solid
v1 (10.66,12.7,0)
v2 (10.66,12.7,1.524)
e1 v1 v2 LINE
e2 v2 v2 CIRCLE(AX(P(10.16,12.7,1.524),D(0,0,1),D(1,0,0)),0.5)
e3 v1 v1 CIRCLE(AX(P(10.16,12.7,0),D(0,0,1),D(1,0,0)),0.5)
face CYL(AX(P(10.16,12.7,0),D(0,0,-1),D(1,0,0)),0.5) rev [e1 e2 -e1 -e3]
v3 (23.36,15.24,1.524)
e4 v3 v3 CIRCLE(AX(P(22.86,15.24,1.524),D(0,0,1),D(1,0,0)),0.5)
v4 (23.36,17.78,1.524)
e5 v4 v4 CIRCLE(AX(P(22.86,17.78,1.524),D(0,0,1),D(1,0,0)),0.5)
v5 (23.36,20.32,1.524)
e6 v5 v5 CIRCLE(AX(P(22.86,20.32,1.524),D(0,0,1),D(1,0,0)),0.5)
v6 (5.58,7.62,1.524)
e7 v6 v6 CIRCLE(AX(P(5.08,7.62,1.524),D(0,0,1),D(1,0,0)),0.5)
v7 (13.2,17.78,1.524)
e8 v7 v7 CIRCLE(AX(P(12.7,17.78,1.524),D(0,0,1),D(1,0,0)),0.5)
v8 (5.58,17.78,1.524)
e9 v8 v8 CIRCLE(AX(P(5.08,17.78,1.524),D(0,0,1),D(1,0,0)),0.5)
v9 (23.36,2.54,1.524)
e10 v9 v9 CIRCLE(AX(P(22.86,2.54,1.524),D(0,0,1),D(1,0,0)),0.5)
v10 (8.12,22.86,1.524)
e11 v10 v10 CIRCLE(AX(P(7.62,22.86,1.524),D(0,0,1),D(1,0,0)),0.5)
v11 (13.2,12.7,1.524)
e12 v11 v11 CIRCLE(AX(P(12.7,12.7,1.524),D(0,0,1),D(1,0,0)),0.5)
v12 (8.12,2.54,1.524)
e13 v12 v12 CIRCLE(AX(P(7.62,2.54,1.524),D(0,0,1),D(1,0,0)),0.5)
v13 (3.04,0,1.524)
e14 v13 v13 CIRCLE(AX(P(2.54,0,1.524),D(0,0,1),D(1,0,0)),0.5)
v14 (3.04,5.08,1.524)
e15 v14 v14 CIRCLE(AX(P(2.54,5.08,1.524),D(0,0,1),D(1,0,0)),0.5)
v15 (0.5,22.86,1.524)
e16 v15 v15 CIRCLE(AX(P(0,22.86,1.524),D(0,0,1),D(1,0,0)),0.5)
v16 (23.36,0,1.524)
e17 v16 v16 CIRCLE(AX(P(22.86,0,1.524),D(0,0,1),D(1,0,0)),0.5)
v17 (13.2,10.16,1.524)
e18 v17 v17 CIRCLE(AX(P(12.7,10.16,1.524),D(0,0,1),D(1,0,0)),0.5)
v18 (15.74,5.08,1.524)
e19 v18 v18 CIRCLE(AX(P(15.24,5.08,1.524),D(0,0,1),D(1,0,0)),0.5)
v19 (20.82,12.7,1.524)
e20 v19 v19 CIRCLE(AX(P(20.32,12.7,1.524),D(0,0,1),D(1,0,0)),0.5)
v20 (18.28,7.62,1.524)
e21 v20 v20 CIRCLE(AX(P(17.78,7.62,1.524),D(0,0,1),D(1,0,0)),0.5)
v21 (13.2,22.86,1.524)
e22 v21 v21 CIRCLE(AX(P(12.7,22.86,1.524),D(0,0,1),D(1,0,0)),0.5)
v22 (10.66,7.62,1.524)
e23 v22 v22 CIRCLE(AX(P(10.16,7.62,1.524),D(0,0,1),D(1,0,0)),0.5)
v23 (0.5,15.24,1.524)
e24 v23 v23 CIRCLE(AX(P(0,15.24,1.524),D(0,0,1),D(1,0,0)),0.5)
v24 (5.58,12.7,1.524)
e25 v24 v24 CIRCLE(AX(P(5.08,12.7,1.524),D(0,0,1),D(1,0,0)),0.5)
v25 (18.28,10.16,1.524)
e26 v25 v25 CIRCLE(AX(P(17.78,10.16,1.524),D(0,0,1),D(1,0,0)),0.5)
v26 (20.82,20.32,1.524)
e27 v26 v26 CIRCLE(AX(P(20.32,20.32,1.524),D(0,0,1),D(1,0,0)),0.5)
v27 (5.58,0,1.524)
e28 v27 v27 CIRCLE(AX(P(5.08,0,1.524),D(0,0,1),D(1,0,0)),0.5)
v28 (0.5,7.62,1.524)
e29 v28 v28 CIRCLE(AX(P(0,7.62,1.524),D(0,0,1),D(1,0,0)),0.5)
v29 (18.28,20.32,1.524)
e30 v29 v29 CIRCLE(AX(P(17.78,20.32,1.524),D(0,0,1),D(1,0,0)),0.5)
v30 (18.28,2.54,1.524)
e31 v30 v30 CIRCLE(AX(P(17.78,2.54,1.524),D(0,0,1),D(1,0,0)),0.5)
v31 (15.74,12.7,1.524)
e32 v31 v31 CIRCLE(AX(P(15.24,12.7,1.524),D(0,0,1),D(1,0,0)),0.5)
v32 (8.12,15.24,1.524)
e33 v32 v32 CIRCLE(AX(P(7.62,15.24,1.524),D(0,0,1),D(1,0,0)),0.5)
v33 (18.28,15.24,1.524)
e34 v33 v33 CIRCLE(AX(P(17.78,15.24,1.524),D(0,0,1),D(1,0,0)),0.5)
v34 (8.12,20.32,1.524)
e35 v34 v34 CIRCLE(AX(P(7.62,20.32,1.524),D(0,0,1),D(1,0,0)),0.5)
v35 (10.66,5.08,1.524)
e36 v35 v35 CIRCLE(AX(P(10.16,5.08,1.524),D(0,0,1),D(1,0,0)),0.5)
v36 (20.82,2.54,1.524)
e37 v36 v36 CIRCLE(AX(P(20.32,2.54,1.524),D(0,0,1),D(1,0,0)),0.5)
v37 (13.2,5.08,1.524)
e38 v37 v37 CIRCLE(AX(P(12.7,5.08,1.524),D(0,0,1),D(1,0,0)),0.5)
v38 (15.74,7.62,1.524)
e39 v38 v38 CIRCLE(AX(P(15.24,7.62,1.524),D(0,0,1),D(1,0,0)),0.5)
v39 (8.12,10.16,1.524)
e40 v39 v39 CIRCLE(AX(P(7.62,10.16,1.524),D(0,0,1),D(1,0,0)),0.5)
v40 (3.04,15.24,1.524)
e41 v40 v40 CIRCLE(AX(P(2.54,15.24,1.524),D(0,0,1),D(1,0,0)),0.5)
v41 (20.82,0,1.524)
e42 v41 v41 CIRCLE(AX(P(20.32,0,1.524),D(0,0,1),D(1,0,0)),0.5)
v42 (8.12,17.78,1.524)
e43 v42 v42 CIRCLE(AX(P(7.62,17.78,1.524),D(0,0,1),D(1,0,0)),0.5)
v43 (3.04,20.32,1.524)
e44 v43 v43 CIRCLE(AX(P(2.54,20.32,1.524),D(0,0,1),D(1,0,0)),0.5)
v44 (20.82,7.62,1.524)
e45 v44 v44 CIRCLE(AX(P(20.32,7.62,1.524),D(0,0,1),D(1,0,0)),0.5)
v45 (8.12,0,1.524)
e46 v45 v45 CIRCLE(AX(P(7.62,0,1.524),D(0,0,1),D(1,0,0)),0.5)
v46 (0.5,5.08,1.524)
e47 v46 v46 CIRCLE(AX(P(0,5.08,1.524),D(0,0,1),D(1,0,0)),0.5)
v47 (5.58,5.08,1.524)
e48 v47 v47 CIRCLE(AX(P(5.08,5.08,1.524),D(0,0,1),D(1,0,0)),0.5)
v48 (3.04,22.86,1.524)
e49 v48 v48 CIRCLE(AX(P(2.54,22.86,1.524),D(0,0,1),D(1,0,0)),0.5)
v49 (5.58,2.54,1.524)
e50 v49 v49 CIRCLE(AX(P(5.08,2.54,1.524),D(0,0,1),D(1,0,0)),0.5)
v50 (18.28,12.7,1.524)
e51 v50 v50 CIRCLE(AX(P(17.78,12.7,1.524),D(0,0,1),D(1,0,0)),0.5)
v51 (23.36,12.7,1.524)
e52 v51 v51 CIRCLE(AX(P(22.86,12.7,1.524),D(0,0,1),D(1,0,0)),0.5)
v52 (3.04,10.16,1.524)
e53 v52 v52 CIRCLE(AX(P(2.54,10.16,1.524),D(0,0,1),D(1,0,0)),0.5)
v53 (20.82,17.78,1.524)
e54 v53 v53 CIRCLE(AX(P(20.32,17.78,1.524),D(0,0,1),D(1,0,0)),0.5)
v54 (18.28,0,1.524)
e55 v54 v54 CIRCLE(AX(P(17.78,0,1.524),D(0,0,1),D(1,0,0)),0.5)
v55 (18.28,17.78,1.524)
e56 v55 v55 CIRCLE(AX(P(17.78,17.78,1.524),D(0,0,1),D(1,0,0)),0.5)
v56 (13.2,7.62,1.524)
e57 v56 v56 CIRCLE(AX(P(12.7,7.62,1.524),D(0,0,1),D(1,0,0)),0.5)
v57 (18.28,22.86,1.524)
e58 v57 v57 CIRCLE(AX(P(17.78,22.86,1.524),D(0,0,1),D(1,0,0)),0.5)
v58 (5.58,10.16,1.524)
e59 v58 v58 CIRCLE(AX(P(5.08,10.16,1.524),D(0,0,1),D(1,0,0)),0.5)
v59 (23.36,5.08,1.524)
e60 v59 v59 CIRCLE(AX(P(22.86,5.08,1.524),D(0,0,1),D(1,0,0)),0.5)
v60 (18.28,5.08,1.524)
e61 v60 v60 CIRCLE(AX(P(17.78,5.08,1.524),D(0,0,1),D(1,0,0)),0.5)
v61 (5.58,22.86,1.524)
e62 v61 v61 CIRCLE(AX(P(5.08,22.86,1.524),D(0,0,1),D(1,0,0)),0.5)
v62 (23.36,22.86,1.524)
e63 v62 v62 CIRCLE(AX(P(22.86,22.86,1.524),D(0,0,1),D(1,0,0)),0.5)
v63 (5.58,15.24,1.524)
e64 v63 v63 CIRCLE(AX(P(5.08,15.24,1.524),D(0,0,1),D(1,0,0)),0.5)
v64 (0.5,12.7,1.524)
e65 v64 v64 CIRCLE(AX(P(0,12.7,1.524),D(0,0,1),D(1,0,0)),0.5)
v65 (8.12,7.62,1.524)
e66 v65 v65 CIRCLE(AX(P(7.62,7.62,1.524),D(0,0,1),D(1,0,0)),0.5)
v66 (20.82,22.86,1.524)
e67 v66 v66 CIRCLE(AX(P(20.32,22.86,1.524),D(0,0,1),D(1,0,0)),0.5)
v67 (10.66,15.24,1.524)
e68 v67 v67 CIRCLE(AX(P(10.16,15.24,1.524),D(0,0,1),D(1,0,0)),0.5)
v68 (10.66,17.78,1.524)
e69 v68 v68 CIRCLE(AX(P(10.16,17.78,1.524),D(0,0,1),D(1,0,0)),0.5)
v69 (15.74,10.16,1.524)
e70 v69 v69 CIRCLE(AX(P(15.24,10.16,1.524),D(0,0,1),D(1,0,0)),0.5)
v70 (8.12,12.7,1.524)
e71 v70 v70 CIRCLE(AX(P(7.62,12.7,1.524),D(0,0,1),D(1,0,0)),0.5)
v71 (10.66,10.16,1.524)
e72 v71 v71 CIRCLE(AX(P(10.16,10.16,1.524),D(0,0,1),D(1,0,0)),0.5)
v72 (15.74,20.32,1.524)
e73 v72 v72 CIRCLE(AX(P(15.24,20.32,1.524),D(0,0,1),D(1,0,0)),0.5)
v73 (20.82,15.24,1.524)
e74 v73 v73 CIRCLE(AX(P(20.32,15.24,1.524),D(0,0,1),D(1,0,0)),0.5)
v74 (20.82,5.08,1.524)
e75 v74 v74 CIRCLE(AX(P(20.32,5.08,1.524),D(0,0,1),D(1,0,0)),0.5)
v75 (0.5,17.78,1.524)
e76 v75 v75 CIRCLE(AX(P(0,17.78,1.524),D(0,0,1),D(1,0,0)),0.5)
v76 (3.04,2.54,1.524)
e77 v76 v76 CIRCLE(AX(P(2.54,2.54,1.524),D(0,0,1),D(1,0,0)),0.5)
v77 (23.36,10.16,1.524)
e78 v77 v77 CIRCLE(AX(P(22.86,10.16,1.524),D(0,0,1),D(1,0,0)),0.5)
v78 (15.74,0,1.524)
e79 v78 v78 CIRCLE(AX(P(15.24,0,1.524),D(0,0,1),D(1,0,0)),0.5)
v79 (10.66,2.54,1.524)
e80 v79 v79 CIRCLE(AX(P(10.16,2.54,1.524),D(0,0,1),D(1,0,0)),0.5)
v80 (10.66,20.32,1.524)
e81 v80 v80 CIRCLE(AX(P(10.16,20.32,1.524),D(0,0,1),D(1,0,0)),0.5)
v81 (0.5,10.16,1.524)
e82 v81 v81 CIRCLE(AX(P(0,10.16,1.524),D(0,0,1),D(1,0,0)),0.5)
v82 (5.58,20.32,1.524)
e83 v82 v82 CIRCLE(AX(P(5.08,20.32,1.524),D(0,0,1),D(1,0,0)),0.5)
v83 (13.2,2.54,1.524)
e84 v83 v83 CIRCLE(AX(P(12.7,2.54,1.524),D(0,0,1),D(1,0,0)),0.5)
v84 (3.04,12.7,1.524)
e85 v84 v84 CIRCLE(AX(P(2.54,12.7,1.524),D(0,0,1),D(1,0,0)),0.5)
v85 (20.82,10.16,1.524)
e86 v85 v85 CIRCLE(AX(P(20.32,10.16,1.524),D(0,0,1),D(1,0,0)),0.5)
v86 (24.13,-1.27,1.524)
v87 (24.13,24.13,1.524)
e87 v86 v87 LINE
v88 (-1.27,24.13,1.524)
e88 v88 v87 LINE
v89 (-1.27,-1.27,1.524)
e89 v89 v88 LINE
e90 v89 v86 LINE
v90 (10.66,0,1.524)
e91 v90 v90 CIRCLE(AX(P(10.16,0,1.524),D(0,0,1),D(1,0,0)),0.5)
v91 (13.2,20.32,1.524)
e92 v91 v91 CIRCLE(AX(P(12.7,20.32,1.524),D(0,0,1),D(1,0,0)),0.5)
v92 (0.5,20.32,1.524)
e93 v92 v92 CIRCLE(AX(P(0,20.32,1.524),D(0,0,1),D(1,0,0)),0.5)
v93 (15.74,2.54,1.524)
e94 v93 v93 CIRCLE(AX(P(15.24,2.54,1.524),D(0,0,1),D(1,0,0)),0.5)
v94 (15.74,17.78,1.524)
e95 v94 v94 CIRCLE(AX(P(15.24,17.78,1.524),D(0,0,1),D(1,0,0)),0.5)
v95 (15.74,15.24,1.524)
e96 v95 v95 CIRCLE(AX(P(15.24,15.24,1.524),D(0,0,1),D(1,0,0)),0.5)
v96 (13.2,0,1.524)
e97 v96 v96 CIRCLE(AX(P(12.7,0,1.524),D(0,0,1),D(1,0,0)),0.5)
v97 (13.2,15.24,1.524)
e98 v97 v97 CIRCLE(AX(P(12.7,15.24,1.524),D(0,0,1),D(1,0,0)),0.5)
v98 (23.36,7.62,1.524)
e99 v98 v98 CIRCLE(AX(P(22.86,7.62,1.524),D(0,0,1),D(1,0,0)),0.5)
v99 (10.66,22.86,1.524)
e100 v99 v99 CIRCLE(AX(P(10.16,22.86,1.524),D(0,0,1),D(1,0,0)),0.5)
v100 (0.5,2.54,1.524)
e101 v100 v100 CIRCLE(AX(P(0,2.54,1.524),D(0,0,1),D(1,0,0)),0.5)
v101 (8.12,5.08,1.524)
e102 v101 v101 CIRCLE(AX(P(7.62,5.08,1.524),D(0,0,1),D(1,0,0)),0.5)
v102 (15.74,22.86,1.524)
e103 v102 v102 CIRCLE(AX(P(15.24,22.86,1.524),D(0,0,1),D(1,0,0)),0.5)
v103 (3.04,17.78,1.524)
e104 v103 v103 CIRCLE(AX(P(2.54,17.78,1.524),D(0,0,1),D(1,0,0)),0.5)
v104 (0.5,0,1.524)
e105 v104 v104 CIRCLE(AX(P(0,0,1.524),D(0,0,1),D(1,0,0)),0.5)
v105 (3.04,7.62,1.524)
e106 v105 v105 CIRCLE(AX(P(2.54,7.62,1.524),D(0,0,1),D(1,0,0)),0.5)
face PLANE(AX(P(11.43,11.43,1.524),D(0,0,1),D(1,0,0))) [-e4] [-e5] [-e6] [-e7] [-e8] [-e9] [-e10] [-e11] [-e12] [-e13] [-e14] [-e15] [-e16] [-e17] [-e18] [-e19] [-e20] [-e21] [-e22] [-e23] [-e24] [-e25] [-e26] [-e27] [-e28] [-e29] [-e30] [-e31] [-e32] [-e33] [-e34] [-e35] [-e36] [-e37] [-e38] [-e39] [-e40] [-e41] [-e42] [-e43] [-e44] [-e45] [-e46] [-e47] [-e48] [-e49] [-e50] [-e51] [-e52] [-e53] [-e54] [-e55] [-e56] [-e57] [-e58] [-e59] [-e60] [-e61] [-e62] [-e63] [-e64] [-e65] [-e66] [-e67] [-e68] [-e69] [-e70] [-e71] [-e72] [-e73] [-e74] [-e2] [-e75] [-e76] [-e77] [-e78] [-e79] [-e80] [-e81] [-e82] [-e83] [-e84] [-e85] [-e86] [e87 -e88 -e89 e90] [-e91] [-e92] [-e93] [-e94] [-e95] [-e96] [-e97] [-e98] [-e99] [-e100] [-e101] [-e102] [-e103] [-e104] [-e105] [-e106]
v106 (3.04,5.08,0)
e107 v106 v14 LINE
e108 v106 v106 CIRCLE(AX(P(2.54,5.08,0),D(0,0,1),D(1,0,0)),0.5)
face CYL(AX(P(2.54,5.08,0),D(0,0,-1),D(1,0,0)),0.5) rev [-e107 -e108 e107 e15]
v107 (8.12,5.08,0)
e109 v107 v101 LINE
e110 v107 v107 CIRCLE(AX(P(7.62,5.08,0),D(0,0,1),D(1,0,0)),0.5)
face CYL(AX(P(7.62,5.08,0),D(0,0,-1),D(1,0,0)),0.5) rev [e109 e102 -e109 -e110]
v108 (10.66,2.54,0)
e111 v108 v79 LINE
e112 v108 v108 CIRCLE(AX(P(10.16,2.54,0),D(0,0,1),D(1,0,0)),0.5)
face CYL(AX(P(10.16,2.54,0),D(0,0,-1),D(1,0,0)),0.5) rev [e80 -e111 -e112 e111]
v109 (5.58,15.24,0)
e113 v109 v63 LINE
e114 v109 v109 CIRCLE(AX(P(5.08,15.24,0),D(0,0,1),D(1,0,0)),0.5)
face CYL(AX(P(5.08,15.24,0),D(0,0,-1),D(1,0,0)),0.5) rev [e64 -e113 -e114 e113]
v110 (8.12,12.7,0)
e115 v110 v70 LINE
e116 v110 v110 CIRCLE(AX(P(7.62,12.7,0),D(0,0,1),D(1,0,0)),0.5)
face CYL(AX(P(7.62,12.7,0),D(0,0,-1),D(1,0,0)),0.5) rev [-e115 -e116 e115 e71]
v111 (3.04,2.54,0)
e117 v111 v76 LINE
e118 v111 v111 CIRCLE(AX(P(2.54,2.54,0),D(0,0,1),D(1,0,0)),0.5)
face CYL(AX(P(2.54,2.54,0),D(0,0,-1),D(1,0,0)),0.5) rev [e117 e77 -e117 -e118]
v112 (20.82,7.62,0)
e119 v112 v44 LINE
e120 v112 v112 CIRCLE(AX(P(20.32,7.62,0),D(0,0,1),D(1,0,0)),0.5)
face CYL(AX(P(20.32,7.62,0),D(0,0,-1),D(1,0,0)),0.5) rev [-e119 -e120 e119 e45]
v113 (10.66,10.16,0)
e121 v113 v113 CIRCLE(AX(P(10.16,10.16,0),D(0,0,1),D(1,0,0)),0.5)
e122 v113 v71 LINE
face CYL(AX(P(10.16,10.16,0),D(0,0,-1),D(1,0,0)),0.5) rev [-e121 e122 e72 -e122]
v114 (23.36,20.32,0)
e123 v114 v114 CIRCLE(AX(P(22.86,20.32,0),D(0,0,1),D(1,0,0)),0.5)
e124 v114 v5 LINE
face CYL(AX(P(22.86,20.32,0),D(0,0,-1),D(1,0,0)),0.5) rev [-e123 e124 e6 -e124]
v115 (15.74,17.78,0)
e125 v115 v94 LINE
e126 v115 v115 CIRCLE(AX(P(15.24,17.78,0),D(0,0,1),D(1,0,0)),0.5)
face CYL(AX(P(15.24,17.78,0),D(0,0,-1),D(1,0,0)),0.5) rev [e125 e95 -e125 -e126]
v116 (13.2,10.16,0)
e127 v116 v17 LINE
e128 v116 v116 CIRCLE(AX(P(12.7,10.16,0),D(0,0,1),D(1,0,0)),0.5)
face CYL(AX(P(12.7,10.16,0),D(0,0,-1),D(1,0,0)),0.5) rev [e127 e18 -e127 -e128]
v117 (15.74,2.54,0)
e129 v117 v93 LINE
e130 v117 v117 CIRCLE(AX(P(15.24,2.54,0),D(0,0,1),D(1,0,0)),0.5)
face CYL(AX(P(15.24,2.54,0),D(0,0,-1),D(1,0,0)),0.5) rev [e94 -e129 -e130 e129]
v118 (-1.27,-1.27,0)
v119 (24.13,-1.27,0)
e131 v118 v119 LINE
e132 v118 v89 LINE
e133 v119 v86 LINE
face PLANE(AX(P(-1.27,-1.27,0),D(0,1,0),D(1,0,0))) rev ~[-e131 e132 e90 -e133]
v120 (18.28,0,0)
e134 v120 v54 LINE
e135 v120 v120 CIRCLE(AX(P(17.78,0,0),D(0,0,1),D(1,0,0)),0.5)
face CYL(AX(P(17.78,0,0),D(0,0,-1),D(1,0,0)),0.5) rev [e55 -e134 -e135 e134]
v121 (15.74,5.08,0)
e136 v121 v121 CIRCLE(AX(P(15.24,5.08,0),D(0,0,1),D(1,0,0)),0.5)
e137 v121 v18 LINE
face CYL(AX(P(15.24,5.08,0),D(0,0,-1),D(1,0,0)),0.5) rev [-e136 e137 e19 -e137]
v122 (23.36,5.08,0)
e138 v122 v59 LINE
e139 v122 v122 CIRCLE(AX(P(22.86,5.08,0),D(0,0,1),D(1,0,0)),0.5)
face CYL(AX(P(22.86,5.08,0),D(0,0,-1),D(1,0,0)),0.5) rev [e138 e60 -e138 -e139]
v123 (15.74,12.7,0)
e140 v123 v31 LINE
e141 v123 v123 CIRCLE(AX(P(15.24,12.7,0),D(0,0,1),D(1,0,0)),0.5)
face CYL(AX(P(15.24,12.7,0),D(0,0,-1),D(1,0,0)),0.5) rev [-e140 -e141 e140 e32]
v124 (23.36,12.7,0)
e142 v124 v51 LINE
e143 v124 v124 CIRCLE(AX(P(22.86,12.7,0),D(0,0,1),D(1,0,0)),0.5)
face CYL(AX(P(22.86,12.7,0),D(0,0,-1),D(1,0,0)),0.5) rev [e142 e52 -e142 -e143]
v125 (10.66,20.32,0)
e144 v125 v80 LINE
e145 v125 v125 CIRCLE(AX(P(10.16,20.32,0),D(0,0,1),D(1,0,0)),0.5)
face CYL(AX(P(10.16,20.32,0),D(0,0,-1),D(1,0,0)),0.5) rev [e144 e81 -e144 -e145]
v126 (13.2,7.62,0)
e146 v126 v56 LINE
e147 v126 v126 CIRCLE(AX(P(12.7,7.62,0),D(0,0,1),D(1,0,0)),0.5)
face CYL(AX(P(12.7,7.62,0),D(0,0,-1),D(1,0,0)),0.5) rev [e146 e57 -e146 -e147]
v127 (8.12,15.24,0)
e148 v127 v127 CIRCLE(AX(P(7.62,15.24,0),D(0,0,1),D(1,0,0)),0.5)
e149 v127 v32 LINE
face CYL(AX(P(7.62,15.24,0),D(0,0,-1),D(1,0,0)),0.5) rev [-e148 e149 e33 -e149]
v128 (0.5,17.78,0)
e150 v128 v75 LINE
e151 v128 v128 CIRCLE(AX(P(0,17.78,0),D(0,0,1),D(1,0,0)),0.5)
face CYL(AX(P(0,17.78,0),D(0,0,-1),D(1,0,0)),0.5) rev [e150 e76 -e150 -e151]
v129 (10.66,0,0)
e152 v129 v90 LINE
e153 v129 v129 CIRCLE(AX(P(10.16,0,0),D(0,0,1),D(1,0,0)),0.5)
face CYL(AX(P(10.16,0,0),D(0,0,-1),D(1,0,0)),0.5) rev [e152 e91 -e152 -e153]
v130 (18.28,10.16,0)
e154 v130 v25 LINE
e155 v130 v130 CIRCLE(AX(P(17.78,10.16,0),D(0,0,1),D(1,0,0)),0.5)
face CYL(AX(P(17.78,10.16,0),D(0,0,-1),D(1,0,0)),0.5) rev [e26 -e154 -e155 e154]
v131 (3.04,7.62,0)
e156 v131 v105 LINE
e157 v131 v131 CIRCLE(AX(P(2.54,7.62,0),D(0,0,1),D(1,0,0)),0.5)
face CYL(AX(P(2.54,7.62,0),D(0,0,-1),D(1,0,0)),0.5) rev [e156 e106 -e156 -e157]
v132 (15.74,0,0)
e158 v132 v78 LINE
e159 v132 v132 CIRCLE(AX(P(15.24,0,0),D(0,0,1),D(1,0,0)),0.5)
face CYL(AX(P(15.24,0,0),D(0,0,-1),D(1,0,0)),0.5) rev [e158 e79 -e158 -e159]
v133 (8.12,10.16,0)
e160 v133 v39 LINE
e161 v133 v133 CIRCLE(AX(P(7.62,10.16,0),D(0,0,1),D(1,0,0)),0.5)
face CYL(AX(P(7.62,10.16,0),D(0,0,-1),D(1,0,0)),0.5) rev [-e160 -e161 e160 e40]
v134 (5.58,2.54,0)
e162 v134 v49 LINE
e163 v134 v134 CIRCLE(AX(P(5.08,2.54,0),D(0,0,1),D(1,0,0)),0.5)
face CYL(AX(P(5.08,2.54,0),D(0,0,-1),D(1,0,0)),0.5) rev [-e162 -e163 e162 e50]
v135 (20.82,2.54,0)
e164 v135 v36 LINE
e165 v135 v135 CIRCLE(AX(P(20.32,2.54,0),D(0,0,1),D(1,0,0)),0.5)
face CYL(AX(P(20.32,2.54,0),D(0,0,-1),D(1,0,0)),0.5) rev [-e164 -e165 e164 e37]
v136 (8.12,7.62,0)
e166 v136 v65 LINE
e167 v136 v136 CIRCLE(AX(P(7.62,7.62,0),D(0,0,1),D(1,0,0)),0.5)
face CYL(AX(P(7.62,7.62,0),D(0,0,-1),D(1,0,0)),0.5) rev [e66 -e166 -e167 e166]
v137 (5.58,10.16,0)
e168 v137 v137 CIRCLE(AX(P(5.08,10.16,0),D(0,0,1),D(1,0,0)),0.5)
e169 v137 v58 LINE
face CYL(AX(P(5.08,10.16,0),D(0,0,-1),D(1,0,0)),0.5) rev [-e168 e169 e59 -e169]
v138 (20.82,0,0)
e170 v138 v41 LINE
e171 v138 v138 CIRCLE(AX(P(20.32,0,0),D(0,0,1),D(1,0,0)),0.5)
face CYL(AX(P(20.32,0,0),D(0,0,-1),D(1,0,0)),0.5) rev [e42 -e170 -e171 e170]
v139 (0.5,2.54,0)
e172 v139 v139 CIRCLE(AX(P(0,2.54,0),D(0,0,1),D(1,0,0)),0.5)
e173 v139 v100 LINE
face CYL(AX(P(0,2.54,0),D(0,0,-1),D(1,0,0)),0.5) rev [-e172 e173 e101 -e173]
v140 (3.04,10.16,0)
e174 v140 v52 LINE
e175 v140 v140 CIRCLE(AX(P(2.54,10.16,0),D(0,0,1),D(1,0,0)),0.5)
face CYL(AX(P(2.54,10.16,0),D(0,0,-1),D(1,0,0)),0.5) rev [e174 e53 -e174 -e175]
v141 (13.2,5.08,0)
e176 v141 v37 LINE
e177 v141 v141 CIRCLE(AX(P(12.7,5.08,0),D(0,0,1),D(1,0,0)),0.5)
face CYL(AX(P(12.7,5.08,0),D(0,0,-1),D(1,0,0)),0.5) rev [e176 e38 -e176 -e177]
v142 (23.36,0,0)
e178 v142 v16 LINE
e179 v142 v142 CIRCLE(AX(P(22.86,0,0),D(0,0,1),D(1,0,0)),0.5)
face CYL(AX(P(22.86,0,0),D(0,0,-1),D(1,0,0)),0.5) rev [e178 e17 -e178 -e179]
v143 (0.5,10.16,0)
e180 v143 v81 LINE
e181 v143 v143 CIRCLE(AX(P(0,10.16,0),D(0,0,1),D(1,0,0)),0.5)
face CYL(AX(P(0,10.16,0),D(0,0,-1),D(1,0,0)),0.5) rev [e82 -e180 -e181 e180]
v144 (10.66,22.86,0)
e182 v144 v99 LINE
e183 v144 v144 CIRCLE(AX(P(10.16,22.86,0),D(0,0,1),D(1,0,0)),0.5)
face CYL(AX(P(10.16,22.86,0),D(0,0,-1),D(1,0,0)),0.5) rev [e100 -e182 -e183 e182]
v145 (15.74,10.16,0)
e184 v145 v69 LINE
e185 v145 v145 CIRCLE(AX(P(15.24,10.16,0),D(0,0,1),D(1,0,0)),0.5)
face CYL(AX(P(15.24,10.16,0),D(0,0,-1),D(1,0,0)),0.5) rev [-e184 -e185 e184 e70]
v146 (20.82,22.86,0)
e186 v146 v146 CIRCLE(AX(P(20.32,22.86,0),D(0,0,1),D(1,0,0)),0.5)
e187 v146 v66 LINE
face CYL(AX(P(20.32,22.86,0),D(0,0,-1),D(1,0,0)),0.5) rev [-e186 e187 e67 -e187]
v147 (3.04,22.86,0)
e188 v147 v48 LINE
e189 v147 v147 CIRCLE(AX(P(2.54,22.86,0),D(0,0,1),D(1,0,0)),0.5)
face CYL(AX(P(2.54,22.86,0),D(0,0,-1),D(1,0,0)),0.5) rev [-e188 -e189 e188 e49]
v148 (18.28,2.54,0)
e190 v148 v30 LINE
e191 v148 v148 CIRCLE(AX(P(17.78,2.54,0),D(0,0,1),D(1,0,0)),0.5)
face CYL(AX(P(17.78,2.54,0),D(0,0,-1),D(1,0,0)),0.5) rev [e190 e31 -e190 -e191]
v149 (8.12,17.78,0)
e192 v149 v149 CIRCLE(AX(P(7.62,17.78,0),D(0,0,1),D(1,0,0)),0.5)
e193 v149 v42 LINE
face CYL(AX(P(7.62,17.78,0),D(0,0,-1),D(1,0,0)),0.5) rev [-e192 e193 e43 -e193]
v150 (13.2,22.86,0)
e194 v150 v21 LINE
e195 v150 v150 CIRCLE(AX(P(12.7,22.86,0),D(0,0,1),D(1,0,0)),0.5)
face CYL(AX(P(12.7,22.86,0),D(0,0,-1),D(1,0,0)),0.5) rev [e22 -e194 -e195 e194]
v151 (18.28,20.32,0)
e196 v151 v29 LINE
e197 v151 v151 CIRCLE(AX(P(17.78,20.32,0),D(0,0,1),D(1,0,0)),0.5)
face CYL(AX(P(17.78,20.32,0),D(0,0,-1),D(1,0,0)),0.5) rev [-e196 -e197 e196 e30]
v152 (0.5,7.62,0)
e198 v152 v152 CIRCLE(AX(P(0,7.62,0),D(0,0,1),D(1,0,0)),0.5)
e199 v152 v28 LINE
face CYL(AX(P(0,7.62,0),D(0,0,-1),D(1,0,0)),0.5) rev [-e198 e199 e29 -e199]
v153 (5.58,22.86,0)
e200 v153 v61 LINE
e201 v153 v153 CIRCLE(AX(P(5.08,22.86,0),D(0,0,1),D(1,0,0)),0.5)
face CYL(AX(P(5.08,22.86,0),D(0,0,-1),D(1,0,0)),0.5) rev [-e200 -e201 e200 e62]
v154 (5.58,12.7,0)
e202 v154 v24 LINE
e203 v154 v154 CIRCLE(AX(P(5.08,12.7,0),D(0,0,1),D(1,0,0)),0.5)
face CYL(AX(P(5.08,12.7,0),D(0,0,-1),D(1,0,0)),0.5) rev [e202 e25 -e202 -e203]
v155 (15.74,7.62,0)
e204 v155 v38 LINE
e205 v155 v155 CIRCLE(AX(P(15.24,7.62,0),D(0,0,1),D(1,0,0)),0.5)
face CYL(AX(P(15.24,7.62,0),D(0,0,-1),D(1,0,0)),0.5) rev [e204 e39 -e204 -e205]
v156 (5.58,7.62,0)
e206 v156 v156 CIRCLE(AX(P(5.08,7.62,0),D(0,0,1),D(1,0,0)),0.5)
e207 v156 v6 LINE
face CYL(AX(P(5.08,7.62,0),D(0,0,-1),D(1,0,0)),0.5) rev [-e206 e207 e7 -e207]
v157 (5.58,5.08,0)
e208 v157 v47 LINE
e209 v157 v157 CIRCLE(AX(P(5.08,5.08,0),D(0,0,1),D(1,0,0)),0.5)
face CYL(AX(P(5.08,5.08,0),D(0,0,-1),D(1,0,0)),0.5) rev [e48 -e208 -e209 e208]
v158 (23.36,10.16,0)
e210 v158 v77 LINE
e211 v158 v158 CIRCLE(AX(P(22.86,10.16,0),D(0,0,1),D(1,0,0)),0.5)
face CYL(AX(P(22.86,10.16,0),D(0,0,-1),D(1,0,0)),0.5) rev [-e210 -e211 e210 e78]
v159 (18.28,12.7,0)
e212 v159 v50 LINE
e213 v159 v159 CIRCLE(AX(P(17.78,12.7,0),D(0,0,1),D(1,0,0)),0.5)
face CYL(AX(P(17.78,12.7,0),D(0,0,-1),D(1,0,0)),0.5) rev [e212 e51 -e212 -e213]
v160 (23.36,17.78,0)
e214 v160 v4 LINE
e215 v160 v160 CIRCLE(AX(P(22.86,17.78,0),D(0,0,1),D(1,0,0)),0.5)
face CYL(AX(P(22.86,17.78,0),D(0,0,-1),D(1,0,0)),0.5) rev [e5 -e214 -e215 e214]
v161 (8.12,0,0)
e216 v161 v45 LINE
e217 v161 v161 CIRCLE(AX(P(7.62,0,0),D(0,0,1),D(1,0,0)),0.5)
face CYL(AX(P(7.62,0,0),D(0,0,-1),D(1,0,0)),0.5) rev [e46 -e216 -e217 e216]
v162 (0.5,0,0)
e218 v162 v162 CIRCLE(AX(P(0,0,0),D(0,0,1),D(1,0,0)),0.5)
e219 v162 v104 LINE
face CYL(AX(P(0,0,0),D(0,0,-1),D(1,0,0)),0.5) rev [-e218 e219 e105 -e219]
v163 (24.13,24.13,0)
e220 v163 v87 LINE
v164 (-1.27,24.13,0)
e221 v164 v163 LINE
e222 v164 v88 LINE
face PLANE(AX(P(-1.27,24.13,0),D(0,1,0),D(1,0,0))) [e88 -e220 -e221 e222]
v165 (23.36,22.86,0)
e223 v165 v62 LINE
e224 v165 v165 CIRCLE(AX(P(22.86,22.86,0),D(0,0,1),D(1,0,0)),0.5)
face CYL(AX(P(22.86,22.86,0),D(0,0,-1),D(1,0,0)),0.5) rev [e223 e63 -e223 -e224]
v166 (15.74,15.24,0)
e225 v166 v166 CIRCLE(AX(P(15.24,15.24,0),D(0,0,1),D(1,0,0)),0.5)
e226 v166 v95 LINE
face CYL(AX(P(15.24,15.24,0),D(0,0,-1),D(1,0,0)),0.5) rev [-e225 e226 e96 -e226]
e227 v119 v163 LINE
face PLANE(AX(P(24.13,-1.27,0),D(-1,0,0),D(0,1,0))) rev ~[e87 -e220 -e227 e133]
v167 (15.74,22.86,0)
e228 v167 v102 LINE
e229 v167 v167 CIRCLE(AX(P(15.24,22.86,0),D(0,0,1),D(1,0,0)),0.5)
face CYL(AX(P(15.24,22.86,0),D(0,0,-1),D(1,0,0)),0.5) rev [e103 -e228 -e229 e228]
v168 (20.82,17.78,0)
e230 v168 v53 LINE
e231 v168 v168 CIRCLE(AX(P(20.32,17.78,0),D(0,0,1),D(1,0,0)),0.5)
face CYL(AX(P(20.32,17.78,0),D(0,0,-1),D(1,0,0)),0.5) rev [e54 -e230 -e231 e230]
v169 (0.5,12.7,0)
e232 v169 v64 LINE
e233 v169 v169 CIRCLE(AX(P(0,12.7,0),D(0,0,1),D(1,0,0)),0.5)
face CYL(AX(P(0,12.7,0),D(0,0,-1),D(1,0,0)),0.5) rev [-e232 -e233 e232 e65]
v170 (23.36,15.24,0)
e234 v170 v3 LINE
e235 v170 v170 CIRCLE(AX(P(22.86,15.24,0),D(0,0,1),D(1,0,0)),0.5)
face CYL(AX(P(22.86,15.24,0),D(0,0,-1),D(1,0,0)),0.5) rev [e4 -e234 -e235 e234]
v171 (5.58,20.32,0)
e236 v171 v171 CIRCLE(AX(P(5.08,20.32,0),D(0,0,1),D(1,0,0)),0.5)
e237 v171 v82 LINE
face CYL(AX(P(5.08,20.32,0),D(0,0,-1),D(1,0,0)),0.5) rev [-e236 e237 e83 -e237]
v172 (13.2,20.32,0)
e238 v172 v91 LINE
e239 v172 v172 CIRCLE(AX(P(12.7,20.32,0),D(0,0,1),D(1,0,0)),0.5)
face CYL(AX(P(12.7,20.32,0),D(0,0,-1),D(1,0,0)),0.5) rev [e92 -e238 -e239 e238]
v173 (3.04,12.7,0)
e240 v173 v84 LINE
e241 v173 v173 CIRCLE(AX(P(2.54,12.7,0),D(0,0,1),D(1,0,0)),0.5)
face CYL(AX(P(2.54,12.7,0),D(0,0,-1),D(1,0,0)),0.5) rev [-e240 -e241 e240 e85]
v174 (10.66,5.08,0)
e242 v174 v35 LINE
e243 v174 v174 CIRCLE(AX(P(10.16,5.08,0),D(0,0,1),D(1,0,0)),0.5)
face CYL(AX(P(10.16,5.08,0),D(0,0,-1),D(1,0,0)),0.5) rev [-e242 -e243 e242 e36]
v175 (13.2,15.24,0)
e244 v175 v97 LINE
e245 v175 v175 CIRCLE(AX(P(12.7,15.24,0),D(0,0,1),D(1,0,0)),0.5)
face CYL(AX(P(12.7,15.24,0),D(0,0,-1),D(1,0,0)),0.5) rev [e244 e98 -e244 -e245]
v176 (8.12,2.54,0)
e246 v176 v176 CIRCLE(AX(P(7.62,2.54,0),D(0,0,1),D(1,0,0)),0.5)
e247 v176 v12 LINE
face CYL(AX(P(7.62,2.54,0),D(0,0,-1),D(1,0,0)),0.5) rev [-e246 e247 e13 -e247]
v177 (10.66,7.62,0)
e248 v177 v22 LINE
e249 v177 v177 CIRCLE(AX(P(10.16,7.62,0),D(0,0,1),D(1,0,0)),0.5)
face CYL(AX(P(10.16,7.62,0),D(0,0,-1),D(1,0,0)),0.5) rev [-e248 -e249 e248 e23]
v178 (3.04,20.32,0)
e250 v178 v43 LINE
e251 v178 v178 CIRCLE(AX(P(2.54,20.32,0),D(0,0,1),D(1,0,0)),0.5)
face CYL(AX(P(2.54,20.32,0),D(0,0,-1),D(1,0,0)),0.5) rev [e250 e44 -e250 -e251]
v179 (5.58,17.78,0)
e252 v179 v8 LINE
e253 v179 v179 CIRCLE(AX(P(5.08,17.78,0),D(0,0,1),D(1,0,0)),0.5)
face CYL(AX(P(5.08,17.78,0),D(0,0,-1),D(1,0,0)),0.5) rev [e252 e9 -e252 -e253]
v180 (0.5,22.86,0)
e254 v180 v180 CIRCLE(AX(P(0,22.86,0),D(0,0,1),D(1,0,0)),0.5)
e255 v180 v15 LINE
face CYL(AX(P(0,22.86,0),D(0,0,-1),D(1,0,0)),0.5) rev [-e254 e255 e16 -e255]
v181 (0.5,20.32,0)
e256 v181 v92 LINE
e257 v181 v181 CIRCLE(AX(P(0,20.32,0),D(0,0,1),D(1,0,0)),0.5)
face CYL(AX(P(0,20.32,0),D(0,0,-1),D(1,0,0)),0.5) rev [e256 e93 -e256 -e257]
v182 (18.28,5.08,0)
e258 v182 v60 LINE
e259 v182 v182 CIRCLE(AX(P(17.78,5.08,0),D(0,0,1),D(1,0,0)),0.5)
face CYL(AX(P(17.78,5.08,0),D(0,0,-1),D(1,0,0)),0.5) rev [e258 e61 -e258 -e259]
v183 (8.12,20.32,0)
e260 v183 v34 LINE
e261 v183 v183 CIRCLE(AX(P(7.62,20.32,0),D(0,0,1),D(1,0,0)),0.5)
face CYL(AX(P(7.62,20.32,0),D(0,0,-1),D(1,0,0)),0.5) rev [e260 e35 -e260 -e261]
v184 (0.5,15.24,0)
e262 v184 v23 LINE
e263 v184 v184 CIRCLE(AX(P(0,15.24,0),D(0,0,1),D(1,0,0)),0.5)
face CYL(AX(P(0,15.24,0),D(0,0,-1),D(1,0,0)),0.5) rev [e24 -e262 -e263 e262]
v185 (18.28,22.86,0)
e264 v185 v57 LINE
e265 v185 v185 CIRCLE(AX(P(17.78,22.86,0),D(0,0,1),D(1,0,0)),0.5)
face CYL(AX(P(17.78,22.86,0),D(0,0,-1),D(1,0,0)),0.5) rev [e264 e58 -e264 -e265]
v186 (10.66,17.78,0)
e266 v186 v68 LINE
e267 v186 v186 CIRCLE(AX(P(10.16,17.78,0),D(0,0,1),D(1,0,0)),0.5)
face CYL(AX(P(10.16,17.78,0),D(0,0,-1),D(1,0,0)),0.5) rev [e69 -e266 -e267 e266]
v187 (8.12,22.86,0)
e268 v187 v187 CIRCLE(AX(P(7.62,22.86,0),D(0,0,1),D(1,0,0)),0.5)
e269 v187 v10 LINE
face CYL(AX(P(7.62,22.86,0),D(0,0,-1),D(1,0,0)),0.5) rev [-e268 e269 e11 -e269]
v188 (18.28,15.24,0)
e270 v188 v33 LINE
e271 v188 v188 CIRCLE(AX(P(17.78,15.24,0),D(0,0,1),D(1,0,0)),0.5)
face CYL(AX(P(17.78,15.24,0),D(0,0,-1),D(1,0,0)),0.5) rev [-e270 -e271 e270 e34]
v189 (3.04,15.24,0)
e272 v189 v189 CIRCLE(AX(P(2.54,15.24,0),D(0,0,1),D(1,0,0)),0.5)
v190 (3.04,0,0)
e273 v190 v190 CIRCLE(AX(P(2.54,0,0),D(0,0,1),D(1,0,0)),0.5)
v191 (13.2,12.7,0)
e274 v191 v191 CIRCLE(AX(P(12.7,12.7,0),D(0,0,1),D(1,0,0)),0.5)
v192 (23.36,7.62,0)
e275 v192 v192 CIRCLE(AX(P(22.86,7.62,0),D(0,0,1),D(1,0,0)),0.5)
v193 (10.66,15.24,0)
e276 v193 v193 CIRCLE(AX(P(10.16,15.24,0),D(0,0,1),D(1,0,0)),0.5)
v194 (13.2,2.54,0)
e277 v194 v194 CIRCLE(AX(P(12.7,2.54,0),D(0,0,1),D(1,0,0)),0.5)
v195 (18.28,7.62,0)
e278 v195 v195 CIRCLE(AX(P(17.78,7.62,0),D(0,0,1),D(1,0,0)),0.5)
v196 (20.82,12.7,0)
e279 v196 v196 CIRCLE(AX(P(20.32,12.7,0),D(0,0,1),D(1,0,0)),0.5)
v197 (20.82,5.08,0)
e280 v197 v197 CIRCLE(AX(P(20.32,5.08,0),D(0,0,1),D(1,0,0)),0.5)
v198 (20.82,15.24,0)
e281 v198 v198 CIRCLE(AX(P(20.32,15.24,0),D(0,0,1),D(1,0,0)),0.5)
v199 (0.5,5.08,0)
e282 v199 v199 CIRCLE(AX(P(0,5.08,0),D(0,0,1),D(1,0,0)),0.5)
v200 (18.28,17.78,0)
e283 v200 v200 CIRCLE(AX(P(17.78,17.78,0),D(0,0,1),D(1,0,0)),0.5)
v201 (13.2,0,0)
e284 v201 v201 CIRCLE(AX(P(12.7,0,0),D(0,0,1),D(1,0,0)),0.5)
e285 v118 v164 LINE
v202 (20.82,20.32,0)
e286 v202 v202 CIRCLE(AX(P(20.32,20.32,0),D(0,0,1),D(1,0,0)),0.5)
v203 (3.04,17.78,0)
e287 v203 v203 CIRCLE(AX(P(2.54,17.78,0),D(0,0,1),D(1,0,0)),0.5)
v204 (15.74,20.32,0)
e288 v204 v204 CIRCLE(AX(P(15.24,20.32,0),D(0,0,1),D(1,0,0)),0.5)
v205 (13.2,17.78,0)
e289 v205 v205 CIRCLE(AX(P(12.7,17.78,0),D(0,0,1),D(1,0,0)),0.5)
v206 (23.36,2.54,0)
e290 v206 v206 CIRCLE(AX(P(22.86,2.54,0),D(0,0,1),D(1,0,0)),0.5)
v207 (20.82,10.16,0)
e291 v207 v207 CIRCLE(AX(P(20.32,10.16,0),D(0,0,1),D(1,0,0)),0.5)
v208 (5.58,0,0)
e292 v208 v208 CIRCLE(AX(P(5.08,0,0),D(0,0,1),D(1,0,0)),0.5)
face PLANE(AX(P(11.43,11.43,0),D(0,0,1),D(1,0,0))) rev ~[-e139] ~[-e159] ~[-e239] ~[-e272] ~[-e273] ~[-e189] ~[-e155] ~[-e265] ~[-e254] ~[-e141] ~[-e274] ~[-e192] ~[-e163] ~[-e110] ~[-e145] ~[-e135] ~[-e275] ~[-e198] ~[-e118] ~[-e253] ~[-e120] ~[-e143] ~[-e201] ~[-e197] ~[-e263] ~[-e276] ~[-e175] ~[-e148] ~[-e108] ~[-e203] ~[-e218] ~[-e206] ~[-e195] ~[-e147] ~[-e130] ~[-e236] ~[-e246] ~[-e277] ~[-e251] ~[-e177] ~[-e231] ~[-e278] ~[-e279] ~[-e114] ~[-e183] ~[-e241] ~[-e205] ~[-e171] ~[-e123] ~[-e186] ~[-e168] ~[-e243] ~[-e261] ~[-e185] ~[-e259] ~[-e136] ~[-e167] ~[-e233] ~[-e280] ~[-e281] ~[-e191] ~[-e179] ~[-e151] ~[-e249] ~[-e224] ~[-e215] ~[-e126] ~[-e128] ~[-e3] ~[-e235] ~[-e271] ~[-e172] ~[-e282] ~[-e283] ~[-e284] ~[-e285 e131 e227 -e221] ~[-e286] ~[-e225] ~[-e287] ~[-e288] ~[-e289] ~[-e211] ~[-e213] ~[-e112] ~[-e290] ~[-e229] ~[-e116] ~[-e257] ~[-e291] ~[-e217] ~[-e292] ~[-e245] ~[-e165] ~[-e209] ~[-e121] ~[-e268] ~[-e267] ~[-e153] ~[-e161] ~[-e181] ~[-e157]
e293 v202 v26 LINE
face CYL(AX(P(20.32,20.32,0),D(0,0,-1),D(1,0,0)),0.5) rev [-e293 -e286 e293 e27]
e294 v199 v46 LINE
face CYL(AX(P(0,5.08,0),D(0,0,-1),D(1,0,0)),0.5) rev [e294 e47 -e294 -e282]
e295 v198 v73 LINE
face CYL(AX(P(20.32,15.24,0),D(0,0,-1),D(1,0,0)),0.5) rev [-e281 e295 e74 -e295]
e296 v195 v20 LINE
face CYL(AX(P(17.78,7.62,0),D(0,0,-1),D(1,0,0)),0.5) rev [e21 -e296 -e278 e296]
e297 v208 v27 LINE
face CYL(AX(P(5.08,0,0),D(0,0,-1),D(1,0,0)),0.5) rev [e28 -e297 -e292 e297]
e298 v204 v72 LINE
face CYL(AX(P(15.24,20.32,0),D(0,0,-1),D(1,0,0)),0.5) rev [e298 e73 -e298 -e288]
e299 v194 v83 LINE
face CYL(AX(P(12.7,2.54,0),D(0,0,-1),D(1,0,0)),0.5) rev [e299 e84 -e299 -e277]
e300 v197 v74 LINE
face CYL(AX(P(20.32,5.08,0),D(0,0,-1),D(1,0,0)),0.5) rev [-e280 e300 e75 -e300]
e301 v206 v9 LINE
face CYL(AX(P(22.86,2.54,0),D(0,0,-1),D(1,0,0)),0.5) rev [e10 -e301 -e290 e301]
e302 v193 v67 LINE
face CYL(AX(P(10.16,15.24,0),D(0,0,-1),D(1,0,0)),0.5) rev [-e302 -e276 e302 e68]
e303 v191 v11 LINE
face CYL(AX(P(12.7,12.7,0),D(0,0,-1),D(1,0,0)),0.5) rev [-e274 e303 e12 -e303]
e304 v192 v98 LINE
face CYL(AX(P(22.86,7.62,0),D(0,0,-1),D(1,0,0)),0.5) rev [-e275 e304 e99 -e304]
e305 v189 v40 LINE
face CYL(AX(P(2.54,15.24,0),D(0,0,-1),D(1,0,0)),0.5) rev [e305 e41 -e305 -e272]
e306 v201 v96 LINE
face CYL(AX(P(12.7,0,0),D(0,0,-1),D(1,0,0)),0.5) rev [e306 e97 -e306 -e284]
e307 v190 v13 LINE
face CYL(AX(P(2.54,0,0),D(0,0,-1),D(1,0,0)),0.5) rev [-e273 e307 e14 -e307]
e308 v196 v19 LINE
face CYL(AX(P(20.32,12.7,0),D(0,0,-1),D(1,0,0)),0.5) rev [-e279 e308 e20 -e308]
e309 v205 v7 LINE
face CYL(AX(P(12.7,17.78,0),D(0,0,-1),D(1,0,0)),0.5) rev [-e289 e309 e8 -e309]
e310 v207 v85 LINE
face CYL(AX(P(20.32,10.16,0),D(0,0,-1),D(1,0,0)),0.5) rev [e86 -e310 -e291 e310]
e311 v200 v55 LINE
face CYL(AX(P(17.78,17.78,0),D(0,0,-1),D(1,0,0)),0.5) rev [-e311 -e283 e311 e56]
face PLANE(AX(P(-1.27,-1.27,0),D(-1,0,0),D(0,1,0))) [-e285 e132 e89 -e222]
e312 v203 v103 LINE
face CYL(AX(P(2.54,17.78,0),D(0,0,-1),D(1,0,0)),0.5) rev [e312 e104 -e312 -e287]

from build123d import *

# Parameters (mm, degrees)
F0_W     = 25.4
F0_H     = 25.4
F0_R     = 0.5
F1_DEPTH = 1.524


with BuildPart() as f1:
    # F0 (on Top) → F1 (new body)
    with BuildSketch(Plane.XY):
        with Locations((11.43, 11.43)):
            Rectangle(F0_W, F0_H)
        Circle(F0_R, mode=Mode.SUBTRACT)
        with Locations((2.54, 0)):
            Circle(F0_R, mode=Mode.SUBTRACT)
        with Locations((5.08, 0)):
            Circle(F0_R, mode=Mode.SUBTRACT)
        with Locations((0, 2.54)):
            Circle(F0_R, mode=Mode.SUBTRACT)
        with Locations((0, 5.08)):
            Circle(F0_R, mode=Mode.SUBTRACT)
        with Locations((2.54, 2.54)):
            Circle(F0_R, mode=Mode.SUBTRACT)
        with Locations((5.08, 2.54)):
            Circle(F0_R, mode=Mode.SUBTRACT)
        with Locations((2.54, 5.08)):
            Circle(F0_R, mode=Mode.SUBTRACT)
        with Locations((5.08, 5.08)):
            Circle(F0_R, mode=Mode.SUBTRACT)
        with Locations((7.62, 0)):
            Circle(F0_R, mode=Mode.SUBTRACT)
        with Locations((10.16, 0)):
            Circle(F0_R, mode=Mode.SUBTRACT)
        with Locations((7.62, 2.54)):
            Circle(F0_R, mode=Mode.SUBTRACT)
        with Locations((7.62, 5.08)):
            Circle(F0_R, mode=Mode.SUBTRACT)
        with Locations((10.16, 2.54)):
            Circle(F0_R, mode=Mode.SUBTRACT)
        with Locations((10.16, 5.08)):
            Circle(F0_R, mode=Mode.SUBTRACT)
        with Locations((0, 7.62)):
            Circle(F0_R, mode=Mode.SUBTRACT)
        with Locations((2.54, 7.62)):
            Circle(F0_R, mode=Mode.SUBTRACT)
        with Locations((5.08, 7.62)):
            Circle(F0_R, mode=Mode.SUBTRACT)
        with Locations((0, 10.16)):
            Circle(F0_R, mode=Mode.SUBTRACT)
        with Locations((2.54, 10.16)):
            Circle(F0_R, mode=Mode.SUBTRACT)
        with Locations((5.08, 10.16)):
            Circle(F0_R, mode=Mode.SUBTRACT)
        with Locations((7.62, 7.62)):
            Circle(F0_R, mode=Mode.SUBTRACT)
        with Locations((10.16, 7.62)):
            Circle(F0_R, mode=Mode.SUBTRACT)
        with Locations((7.62, 10.16)):
            Circle(F0_R, mode=Mode.SUBTRACT)
        with Locations((10.16, 10.16)):
            Circle(F0_R, mode=Mode.SUBTRACT)
        with Locations((12.7, 0)):
            Circle(F0_R, mode=Mode.SUBTRACT)
        with Locations((15.24, 0)):
            Circle(F0_R, mode=Mode.SUBTRACT)
        with Locations((12.7, 2.54)):
            Circle(F0_R, mode=Mode.SUBTRACT)
        with Locations((12.7, 5.08)):
            Circle(F0_R, mode=Mode.SUBTRACT)
        with Locations((15.24, 2.54)):
            Circle(F0_R, mode=Mode.SUBTRACT)
        with Locations((15.24, 5.08)):
            Circle(F0_R, mode=Mode.SUBTRACT)
        with Locations((17.78, 0)):
            Circle(F0_R, mode=Mode.SUBTRACT)
        with Locations((20.32, 0)):
            Circle(F0_R, mode=Mode.SUBTRACT)
        with Locations((22.86, 0)):
            Circle(F0_R, mode=Mode.SUBTRACT)
        with Locations((17.78, 2.54)):
            Circle(F0_R, mode=Mode.SUBTRACT)
        with Locations((20.32, 2.54)):
            Circle(F0_R, mode=Mode.SUBTRACT)
        with Locations((17.78, 5.08)):
            Circle(F0_R, mode=Mode.SUBTRACT)
        with Locations((20.32, 5.08)):
            Circle(F0_R, mode=Mode.SUBTRACT)
        with Locations((22.86, 2.54)):
            Circle(F0_R, mode=Mode.SUBTRACT)
        with Locations((22.86, 5.08)):
            Circle(F0_R, mode=Mode.SUBTRACT)
        with Locations((12.7, 7.62)):
            Circle(F0_R, mode=Mode.SUBTRACT)
        with Locations((15.24, 7.62)):
            Circle(F0_R, mode=Mode.SUBTRACT)
        with Locations((12.7, 10.16)):
            Circle(F0_R, mode=Mode.SUBTRACT)
        with Locations((15.24, 10.16)):
            Circle(F0_R, mode=Mode.SUBTRACT)
        with Locations((17.78, 7.62)):
            Circle(F0_R, mode=Mode.SUBTRACT)
        with Locations((20.32, 7.62)):
            Circle(F0_R, mode=Mode.SUBTRACT)
        with Locations((22.86, 7.62)):
            Circle(F0_R, mode=Mode.SUBTRACT)
        with Locations((17.78, 10.16)):
            Circle(F0_R, mode=Mode.SUBTRACT)
        with Locations((20.32, 10.16)):
            Circle(F0_R, mode=Mode.SUBTRACT)
        with Locations((22.86, 10.16)):
            Circle(F0_R, mode=Mode.SUBTRACT)
        with Locations((0, 12.7)):
            Circle(F0_R, mode=Mode.SUBTRACT)
        with Locations((2.54, 12.7)):
            Circle(F0_R, mode=Mode.SUBTRACT)
        with Locations((5.08, 12.7)):
            Circle(F0_R, mode=Mode.SUBTRACT)
        with Locations((0, 15.24)):
            Circle(F0_R, mode=Mode.SUBTRACT)
        with Locations((2.54, 15.24)):
            Circle(F0_R, mode=Mode.SUBTRACT)
        with Locations((5.08, 15.24)):
            Circle(F0_R, mode=Mode.SUBTRACT)
        with Locations((7.62, 12.7)):
            Circle(F0_R, mode=Mode.SUBTRACT)
        with Locations((10.16, 12.7)):
            Circle(F0_R, mode=Mode.SUBTRACT)
        with Locations((7.62, 15.24)):
            Circle(F0_R, mode=Mode.SUBTRACT)
        with Locations((10.16, 15.24)):
            Circle(F0_R, mode=Mode.SUBTRACT)
        with Locations((0, 17.78)):
            Circle(F0_R, mode=Mode.SUBTRACT)
        with Locations((0, 20.32)):
            Circle(F0_R, mode=Mode.SUBTRACT)
        with Locations((2.54, 17.78)):
            Circle(F0_R, mode=Mode.SUBTRACT)
        with Locations((5.08, 17.78)):
            Circle(F0_R, mode=Mode.SUBTRACT)
        with Locations((2.54, 20.32)):
            Circle(F0_R, mode=Mode.SUBTRACT)
        with Locations((5.08, 20.32)):
            Circle(F0_R, mode=Mode.SUBTRACT)
        with Locations((0, 22.86)):
            Circle(F0_R, mode=Mode.SUBTRACT)
        with Locations((2.54, 22.86)):
            Circle(F0_R, mode=Mode.SUBTRACT)
        with Locations((5.08, 22.86)):
            Circle(F0_R, mode=Mode.SUBTRACT)
        with Locations((7.62, 17.78)):
            Circle(F0_R, mode=Mode.SUBTRACT)
        with Locations((7.62, 20.32)):
            Circle(F0_R, mode=Mode.SUBTRACT)
        with Locations((10.16, 17.78)):
            Circle(F0_R, mode=Mode.SUBTRACT)
        with Locations((10.16, 20.32)):
            Circle(F0_R, mode=Mode.SUBTRACT)
        with Locations((7.62, 22.86)):
            Circle(F0_R, mode=Mode.SUBTRACT)
        with Locations((10.16, 22.86)):
            Circle(F0_R, mode=Mode.SUBTRACT)
        with Locations((12.7, 12.7)):
            Circle(F0_R, mode=Mode.SUBTRACT)
        with Locations((15.24, 12.7)):
            Circle(F0_R, mode=Mode.SUBTRACT)
        with Locations((12.7, 15.24)):
            Circle(F0_R, mode=Mode.SUBTRACT)
        with Locations((15.24, 15.24)):
            Circle(F0_R, mode=Mode.SUBTRACT)
        with Locations((17.78, 12.7)):
            Circle(F0_R, mode=Mode.SUBTRACT)
        with Locations((20.32, 12.7)):
            Circle(F0_R, mode=Mode.SUBTRACT)
        with Locations((22.86, 12.7)):
            Circle(F0_R, mode=Mode.SUBTRACT)
        with Locations((17.78, 15.24)):
            Circle(F0_R, mode=Mode.SUBTRACT)
        with Locations((20.32, 15.24)):
            Circle(F0_R, mode=Mode.SUBTRACT)
        with Locations((22.86, 15.24)):
            Circle(F0_R, mode=Mode.SUBTRACT)
        with Locations((12.7, 17.78)):
            Circle(F0_R, mode=Mode.SUBTRACT)
        with Locations((12.7, 20.32)):
            Circle(F0_R, mode=Mode.SUBTRACT)
        with Locations((15.24, 17.78)):
            Circle(F0_R, mode=Mode.SUBTRACT)
        with Locations((15.24, 20.32)):
            Circle(F0_R, mode=Mode.SUBTRACT)
        with Locations((12.7, 22.86)):
            Circle(F0_R, mode=Mode.SUBTRACT)
        with Locations((15.24, 22.86)):
            Circle(F0_R, mode=Mode.SUBTRACT)
        with Locations((17.78, 17.78)):
            Circle(F0_R, mode=Mode.SUBTRACT)
        with Locations((20.32, 17.78)):
            Circle(F0_R, mode=Mode.SUBTRACT)
        with Locations((17.78, 20.32)):
            Circle(F0_R, mode=Mode.SUBTRACT)
        with Locations((20.32, 20.32)):
            Circle(F0_R, mode=Mode.SUBTRACT)
        with Locations((22.86, 17.78)):
            Circle(F0_R, mode=Mode.SUBTRACT)
        with Locations((22.86, 20.32)):
            Circle(F0_R, mode=Mode.SUBTRACT)
        with Locations((17.78, 22.86)):
            Circle(F0_R, mode=Mode.SUBTRACT)
        with Locations((20.32, 22.86)):
            Circle(F0_R, mode=Mode.SUBTRACT)
        with Locations((22.86, 22.86)):
            Circle(F0_R, mode=Mode.SUBTRACT)
    extrude(amount=F1_DEPTH)


solid = f1.part
